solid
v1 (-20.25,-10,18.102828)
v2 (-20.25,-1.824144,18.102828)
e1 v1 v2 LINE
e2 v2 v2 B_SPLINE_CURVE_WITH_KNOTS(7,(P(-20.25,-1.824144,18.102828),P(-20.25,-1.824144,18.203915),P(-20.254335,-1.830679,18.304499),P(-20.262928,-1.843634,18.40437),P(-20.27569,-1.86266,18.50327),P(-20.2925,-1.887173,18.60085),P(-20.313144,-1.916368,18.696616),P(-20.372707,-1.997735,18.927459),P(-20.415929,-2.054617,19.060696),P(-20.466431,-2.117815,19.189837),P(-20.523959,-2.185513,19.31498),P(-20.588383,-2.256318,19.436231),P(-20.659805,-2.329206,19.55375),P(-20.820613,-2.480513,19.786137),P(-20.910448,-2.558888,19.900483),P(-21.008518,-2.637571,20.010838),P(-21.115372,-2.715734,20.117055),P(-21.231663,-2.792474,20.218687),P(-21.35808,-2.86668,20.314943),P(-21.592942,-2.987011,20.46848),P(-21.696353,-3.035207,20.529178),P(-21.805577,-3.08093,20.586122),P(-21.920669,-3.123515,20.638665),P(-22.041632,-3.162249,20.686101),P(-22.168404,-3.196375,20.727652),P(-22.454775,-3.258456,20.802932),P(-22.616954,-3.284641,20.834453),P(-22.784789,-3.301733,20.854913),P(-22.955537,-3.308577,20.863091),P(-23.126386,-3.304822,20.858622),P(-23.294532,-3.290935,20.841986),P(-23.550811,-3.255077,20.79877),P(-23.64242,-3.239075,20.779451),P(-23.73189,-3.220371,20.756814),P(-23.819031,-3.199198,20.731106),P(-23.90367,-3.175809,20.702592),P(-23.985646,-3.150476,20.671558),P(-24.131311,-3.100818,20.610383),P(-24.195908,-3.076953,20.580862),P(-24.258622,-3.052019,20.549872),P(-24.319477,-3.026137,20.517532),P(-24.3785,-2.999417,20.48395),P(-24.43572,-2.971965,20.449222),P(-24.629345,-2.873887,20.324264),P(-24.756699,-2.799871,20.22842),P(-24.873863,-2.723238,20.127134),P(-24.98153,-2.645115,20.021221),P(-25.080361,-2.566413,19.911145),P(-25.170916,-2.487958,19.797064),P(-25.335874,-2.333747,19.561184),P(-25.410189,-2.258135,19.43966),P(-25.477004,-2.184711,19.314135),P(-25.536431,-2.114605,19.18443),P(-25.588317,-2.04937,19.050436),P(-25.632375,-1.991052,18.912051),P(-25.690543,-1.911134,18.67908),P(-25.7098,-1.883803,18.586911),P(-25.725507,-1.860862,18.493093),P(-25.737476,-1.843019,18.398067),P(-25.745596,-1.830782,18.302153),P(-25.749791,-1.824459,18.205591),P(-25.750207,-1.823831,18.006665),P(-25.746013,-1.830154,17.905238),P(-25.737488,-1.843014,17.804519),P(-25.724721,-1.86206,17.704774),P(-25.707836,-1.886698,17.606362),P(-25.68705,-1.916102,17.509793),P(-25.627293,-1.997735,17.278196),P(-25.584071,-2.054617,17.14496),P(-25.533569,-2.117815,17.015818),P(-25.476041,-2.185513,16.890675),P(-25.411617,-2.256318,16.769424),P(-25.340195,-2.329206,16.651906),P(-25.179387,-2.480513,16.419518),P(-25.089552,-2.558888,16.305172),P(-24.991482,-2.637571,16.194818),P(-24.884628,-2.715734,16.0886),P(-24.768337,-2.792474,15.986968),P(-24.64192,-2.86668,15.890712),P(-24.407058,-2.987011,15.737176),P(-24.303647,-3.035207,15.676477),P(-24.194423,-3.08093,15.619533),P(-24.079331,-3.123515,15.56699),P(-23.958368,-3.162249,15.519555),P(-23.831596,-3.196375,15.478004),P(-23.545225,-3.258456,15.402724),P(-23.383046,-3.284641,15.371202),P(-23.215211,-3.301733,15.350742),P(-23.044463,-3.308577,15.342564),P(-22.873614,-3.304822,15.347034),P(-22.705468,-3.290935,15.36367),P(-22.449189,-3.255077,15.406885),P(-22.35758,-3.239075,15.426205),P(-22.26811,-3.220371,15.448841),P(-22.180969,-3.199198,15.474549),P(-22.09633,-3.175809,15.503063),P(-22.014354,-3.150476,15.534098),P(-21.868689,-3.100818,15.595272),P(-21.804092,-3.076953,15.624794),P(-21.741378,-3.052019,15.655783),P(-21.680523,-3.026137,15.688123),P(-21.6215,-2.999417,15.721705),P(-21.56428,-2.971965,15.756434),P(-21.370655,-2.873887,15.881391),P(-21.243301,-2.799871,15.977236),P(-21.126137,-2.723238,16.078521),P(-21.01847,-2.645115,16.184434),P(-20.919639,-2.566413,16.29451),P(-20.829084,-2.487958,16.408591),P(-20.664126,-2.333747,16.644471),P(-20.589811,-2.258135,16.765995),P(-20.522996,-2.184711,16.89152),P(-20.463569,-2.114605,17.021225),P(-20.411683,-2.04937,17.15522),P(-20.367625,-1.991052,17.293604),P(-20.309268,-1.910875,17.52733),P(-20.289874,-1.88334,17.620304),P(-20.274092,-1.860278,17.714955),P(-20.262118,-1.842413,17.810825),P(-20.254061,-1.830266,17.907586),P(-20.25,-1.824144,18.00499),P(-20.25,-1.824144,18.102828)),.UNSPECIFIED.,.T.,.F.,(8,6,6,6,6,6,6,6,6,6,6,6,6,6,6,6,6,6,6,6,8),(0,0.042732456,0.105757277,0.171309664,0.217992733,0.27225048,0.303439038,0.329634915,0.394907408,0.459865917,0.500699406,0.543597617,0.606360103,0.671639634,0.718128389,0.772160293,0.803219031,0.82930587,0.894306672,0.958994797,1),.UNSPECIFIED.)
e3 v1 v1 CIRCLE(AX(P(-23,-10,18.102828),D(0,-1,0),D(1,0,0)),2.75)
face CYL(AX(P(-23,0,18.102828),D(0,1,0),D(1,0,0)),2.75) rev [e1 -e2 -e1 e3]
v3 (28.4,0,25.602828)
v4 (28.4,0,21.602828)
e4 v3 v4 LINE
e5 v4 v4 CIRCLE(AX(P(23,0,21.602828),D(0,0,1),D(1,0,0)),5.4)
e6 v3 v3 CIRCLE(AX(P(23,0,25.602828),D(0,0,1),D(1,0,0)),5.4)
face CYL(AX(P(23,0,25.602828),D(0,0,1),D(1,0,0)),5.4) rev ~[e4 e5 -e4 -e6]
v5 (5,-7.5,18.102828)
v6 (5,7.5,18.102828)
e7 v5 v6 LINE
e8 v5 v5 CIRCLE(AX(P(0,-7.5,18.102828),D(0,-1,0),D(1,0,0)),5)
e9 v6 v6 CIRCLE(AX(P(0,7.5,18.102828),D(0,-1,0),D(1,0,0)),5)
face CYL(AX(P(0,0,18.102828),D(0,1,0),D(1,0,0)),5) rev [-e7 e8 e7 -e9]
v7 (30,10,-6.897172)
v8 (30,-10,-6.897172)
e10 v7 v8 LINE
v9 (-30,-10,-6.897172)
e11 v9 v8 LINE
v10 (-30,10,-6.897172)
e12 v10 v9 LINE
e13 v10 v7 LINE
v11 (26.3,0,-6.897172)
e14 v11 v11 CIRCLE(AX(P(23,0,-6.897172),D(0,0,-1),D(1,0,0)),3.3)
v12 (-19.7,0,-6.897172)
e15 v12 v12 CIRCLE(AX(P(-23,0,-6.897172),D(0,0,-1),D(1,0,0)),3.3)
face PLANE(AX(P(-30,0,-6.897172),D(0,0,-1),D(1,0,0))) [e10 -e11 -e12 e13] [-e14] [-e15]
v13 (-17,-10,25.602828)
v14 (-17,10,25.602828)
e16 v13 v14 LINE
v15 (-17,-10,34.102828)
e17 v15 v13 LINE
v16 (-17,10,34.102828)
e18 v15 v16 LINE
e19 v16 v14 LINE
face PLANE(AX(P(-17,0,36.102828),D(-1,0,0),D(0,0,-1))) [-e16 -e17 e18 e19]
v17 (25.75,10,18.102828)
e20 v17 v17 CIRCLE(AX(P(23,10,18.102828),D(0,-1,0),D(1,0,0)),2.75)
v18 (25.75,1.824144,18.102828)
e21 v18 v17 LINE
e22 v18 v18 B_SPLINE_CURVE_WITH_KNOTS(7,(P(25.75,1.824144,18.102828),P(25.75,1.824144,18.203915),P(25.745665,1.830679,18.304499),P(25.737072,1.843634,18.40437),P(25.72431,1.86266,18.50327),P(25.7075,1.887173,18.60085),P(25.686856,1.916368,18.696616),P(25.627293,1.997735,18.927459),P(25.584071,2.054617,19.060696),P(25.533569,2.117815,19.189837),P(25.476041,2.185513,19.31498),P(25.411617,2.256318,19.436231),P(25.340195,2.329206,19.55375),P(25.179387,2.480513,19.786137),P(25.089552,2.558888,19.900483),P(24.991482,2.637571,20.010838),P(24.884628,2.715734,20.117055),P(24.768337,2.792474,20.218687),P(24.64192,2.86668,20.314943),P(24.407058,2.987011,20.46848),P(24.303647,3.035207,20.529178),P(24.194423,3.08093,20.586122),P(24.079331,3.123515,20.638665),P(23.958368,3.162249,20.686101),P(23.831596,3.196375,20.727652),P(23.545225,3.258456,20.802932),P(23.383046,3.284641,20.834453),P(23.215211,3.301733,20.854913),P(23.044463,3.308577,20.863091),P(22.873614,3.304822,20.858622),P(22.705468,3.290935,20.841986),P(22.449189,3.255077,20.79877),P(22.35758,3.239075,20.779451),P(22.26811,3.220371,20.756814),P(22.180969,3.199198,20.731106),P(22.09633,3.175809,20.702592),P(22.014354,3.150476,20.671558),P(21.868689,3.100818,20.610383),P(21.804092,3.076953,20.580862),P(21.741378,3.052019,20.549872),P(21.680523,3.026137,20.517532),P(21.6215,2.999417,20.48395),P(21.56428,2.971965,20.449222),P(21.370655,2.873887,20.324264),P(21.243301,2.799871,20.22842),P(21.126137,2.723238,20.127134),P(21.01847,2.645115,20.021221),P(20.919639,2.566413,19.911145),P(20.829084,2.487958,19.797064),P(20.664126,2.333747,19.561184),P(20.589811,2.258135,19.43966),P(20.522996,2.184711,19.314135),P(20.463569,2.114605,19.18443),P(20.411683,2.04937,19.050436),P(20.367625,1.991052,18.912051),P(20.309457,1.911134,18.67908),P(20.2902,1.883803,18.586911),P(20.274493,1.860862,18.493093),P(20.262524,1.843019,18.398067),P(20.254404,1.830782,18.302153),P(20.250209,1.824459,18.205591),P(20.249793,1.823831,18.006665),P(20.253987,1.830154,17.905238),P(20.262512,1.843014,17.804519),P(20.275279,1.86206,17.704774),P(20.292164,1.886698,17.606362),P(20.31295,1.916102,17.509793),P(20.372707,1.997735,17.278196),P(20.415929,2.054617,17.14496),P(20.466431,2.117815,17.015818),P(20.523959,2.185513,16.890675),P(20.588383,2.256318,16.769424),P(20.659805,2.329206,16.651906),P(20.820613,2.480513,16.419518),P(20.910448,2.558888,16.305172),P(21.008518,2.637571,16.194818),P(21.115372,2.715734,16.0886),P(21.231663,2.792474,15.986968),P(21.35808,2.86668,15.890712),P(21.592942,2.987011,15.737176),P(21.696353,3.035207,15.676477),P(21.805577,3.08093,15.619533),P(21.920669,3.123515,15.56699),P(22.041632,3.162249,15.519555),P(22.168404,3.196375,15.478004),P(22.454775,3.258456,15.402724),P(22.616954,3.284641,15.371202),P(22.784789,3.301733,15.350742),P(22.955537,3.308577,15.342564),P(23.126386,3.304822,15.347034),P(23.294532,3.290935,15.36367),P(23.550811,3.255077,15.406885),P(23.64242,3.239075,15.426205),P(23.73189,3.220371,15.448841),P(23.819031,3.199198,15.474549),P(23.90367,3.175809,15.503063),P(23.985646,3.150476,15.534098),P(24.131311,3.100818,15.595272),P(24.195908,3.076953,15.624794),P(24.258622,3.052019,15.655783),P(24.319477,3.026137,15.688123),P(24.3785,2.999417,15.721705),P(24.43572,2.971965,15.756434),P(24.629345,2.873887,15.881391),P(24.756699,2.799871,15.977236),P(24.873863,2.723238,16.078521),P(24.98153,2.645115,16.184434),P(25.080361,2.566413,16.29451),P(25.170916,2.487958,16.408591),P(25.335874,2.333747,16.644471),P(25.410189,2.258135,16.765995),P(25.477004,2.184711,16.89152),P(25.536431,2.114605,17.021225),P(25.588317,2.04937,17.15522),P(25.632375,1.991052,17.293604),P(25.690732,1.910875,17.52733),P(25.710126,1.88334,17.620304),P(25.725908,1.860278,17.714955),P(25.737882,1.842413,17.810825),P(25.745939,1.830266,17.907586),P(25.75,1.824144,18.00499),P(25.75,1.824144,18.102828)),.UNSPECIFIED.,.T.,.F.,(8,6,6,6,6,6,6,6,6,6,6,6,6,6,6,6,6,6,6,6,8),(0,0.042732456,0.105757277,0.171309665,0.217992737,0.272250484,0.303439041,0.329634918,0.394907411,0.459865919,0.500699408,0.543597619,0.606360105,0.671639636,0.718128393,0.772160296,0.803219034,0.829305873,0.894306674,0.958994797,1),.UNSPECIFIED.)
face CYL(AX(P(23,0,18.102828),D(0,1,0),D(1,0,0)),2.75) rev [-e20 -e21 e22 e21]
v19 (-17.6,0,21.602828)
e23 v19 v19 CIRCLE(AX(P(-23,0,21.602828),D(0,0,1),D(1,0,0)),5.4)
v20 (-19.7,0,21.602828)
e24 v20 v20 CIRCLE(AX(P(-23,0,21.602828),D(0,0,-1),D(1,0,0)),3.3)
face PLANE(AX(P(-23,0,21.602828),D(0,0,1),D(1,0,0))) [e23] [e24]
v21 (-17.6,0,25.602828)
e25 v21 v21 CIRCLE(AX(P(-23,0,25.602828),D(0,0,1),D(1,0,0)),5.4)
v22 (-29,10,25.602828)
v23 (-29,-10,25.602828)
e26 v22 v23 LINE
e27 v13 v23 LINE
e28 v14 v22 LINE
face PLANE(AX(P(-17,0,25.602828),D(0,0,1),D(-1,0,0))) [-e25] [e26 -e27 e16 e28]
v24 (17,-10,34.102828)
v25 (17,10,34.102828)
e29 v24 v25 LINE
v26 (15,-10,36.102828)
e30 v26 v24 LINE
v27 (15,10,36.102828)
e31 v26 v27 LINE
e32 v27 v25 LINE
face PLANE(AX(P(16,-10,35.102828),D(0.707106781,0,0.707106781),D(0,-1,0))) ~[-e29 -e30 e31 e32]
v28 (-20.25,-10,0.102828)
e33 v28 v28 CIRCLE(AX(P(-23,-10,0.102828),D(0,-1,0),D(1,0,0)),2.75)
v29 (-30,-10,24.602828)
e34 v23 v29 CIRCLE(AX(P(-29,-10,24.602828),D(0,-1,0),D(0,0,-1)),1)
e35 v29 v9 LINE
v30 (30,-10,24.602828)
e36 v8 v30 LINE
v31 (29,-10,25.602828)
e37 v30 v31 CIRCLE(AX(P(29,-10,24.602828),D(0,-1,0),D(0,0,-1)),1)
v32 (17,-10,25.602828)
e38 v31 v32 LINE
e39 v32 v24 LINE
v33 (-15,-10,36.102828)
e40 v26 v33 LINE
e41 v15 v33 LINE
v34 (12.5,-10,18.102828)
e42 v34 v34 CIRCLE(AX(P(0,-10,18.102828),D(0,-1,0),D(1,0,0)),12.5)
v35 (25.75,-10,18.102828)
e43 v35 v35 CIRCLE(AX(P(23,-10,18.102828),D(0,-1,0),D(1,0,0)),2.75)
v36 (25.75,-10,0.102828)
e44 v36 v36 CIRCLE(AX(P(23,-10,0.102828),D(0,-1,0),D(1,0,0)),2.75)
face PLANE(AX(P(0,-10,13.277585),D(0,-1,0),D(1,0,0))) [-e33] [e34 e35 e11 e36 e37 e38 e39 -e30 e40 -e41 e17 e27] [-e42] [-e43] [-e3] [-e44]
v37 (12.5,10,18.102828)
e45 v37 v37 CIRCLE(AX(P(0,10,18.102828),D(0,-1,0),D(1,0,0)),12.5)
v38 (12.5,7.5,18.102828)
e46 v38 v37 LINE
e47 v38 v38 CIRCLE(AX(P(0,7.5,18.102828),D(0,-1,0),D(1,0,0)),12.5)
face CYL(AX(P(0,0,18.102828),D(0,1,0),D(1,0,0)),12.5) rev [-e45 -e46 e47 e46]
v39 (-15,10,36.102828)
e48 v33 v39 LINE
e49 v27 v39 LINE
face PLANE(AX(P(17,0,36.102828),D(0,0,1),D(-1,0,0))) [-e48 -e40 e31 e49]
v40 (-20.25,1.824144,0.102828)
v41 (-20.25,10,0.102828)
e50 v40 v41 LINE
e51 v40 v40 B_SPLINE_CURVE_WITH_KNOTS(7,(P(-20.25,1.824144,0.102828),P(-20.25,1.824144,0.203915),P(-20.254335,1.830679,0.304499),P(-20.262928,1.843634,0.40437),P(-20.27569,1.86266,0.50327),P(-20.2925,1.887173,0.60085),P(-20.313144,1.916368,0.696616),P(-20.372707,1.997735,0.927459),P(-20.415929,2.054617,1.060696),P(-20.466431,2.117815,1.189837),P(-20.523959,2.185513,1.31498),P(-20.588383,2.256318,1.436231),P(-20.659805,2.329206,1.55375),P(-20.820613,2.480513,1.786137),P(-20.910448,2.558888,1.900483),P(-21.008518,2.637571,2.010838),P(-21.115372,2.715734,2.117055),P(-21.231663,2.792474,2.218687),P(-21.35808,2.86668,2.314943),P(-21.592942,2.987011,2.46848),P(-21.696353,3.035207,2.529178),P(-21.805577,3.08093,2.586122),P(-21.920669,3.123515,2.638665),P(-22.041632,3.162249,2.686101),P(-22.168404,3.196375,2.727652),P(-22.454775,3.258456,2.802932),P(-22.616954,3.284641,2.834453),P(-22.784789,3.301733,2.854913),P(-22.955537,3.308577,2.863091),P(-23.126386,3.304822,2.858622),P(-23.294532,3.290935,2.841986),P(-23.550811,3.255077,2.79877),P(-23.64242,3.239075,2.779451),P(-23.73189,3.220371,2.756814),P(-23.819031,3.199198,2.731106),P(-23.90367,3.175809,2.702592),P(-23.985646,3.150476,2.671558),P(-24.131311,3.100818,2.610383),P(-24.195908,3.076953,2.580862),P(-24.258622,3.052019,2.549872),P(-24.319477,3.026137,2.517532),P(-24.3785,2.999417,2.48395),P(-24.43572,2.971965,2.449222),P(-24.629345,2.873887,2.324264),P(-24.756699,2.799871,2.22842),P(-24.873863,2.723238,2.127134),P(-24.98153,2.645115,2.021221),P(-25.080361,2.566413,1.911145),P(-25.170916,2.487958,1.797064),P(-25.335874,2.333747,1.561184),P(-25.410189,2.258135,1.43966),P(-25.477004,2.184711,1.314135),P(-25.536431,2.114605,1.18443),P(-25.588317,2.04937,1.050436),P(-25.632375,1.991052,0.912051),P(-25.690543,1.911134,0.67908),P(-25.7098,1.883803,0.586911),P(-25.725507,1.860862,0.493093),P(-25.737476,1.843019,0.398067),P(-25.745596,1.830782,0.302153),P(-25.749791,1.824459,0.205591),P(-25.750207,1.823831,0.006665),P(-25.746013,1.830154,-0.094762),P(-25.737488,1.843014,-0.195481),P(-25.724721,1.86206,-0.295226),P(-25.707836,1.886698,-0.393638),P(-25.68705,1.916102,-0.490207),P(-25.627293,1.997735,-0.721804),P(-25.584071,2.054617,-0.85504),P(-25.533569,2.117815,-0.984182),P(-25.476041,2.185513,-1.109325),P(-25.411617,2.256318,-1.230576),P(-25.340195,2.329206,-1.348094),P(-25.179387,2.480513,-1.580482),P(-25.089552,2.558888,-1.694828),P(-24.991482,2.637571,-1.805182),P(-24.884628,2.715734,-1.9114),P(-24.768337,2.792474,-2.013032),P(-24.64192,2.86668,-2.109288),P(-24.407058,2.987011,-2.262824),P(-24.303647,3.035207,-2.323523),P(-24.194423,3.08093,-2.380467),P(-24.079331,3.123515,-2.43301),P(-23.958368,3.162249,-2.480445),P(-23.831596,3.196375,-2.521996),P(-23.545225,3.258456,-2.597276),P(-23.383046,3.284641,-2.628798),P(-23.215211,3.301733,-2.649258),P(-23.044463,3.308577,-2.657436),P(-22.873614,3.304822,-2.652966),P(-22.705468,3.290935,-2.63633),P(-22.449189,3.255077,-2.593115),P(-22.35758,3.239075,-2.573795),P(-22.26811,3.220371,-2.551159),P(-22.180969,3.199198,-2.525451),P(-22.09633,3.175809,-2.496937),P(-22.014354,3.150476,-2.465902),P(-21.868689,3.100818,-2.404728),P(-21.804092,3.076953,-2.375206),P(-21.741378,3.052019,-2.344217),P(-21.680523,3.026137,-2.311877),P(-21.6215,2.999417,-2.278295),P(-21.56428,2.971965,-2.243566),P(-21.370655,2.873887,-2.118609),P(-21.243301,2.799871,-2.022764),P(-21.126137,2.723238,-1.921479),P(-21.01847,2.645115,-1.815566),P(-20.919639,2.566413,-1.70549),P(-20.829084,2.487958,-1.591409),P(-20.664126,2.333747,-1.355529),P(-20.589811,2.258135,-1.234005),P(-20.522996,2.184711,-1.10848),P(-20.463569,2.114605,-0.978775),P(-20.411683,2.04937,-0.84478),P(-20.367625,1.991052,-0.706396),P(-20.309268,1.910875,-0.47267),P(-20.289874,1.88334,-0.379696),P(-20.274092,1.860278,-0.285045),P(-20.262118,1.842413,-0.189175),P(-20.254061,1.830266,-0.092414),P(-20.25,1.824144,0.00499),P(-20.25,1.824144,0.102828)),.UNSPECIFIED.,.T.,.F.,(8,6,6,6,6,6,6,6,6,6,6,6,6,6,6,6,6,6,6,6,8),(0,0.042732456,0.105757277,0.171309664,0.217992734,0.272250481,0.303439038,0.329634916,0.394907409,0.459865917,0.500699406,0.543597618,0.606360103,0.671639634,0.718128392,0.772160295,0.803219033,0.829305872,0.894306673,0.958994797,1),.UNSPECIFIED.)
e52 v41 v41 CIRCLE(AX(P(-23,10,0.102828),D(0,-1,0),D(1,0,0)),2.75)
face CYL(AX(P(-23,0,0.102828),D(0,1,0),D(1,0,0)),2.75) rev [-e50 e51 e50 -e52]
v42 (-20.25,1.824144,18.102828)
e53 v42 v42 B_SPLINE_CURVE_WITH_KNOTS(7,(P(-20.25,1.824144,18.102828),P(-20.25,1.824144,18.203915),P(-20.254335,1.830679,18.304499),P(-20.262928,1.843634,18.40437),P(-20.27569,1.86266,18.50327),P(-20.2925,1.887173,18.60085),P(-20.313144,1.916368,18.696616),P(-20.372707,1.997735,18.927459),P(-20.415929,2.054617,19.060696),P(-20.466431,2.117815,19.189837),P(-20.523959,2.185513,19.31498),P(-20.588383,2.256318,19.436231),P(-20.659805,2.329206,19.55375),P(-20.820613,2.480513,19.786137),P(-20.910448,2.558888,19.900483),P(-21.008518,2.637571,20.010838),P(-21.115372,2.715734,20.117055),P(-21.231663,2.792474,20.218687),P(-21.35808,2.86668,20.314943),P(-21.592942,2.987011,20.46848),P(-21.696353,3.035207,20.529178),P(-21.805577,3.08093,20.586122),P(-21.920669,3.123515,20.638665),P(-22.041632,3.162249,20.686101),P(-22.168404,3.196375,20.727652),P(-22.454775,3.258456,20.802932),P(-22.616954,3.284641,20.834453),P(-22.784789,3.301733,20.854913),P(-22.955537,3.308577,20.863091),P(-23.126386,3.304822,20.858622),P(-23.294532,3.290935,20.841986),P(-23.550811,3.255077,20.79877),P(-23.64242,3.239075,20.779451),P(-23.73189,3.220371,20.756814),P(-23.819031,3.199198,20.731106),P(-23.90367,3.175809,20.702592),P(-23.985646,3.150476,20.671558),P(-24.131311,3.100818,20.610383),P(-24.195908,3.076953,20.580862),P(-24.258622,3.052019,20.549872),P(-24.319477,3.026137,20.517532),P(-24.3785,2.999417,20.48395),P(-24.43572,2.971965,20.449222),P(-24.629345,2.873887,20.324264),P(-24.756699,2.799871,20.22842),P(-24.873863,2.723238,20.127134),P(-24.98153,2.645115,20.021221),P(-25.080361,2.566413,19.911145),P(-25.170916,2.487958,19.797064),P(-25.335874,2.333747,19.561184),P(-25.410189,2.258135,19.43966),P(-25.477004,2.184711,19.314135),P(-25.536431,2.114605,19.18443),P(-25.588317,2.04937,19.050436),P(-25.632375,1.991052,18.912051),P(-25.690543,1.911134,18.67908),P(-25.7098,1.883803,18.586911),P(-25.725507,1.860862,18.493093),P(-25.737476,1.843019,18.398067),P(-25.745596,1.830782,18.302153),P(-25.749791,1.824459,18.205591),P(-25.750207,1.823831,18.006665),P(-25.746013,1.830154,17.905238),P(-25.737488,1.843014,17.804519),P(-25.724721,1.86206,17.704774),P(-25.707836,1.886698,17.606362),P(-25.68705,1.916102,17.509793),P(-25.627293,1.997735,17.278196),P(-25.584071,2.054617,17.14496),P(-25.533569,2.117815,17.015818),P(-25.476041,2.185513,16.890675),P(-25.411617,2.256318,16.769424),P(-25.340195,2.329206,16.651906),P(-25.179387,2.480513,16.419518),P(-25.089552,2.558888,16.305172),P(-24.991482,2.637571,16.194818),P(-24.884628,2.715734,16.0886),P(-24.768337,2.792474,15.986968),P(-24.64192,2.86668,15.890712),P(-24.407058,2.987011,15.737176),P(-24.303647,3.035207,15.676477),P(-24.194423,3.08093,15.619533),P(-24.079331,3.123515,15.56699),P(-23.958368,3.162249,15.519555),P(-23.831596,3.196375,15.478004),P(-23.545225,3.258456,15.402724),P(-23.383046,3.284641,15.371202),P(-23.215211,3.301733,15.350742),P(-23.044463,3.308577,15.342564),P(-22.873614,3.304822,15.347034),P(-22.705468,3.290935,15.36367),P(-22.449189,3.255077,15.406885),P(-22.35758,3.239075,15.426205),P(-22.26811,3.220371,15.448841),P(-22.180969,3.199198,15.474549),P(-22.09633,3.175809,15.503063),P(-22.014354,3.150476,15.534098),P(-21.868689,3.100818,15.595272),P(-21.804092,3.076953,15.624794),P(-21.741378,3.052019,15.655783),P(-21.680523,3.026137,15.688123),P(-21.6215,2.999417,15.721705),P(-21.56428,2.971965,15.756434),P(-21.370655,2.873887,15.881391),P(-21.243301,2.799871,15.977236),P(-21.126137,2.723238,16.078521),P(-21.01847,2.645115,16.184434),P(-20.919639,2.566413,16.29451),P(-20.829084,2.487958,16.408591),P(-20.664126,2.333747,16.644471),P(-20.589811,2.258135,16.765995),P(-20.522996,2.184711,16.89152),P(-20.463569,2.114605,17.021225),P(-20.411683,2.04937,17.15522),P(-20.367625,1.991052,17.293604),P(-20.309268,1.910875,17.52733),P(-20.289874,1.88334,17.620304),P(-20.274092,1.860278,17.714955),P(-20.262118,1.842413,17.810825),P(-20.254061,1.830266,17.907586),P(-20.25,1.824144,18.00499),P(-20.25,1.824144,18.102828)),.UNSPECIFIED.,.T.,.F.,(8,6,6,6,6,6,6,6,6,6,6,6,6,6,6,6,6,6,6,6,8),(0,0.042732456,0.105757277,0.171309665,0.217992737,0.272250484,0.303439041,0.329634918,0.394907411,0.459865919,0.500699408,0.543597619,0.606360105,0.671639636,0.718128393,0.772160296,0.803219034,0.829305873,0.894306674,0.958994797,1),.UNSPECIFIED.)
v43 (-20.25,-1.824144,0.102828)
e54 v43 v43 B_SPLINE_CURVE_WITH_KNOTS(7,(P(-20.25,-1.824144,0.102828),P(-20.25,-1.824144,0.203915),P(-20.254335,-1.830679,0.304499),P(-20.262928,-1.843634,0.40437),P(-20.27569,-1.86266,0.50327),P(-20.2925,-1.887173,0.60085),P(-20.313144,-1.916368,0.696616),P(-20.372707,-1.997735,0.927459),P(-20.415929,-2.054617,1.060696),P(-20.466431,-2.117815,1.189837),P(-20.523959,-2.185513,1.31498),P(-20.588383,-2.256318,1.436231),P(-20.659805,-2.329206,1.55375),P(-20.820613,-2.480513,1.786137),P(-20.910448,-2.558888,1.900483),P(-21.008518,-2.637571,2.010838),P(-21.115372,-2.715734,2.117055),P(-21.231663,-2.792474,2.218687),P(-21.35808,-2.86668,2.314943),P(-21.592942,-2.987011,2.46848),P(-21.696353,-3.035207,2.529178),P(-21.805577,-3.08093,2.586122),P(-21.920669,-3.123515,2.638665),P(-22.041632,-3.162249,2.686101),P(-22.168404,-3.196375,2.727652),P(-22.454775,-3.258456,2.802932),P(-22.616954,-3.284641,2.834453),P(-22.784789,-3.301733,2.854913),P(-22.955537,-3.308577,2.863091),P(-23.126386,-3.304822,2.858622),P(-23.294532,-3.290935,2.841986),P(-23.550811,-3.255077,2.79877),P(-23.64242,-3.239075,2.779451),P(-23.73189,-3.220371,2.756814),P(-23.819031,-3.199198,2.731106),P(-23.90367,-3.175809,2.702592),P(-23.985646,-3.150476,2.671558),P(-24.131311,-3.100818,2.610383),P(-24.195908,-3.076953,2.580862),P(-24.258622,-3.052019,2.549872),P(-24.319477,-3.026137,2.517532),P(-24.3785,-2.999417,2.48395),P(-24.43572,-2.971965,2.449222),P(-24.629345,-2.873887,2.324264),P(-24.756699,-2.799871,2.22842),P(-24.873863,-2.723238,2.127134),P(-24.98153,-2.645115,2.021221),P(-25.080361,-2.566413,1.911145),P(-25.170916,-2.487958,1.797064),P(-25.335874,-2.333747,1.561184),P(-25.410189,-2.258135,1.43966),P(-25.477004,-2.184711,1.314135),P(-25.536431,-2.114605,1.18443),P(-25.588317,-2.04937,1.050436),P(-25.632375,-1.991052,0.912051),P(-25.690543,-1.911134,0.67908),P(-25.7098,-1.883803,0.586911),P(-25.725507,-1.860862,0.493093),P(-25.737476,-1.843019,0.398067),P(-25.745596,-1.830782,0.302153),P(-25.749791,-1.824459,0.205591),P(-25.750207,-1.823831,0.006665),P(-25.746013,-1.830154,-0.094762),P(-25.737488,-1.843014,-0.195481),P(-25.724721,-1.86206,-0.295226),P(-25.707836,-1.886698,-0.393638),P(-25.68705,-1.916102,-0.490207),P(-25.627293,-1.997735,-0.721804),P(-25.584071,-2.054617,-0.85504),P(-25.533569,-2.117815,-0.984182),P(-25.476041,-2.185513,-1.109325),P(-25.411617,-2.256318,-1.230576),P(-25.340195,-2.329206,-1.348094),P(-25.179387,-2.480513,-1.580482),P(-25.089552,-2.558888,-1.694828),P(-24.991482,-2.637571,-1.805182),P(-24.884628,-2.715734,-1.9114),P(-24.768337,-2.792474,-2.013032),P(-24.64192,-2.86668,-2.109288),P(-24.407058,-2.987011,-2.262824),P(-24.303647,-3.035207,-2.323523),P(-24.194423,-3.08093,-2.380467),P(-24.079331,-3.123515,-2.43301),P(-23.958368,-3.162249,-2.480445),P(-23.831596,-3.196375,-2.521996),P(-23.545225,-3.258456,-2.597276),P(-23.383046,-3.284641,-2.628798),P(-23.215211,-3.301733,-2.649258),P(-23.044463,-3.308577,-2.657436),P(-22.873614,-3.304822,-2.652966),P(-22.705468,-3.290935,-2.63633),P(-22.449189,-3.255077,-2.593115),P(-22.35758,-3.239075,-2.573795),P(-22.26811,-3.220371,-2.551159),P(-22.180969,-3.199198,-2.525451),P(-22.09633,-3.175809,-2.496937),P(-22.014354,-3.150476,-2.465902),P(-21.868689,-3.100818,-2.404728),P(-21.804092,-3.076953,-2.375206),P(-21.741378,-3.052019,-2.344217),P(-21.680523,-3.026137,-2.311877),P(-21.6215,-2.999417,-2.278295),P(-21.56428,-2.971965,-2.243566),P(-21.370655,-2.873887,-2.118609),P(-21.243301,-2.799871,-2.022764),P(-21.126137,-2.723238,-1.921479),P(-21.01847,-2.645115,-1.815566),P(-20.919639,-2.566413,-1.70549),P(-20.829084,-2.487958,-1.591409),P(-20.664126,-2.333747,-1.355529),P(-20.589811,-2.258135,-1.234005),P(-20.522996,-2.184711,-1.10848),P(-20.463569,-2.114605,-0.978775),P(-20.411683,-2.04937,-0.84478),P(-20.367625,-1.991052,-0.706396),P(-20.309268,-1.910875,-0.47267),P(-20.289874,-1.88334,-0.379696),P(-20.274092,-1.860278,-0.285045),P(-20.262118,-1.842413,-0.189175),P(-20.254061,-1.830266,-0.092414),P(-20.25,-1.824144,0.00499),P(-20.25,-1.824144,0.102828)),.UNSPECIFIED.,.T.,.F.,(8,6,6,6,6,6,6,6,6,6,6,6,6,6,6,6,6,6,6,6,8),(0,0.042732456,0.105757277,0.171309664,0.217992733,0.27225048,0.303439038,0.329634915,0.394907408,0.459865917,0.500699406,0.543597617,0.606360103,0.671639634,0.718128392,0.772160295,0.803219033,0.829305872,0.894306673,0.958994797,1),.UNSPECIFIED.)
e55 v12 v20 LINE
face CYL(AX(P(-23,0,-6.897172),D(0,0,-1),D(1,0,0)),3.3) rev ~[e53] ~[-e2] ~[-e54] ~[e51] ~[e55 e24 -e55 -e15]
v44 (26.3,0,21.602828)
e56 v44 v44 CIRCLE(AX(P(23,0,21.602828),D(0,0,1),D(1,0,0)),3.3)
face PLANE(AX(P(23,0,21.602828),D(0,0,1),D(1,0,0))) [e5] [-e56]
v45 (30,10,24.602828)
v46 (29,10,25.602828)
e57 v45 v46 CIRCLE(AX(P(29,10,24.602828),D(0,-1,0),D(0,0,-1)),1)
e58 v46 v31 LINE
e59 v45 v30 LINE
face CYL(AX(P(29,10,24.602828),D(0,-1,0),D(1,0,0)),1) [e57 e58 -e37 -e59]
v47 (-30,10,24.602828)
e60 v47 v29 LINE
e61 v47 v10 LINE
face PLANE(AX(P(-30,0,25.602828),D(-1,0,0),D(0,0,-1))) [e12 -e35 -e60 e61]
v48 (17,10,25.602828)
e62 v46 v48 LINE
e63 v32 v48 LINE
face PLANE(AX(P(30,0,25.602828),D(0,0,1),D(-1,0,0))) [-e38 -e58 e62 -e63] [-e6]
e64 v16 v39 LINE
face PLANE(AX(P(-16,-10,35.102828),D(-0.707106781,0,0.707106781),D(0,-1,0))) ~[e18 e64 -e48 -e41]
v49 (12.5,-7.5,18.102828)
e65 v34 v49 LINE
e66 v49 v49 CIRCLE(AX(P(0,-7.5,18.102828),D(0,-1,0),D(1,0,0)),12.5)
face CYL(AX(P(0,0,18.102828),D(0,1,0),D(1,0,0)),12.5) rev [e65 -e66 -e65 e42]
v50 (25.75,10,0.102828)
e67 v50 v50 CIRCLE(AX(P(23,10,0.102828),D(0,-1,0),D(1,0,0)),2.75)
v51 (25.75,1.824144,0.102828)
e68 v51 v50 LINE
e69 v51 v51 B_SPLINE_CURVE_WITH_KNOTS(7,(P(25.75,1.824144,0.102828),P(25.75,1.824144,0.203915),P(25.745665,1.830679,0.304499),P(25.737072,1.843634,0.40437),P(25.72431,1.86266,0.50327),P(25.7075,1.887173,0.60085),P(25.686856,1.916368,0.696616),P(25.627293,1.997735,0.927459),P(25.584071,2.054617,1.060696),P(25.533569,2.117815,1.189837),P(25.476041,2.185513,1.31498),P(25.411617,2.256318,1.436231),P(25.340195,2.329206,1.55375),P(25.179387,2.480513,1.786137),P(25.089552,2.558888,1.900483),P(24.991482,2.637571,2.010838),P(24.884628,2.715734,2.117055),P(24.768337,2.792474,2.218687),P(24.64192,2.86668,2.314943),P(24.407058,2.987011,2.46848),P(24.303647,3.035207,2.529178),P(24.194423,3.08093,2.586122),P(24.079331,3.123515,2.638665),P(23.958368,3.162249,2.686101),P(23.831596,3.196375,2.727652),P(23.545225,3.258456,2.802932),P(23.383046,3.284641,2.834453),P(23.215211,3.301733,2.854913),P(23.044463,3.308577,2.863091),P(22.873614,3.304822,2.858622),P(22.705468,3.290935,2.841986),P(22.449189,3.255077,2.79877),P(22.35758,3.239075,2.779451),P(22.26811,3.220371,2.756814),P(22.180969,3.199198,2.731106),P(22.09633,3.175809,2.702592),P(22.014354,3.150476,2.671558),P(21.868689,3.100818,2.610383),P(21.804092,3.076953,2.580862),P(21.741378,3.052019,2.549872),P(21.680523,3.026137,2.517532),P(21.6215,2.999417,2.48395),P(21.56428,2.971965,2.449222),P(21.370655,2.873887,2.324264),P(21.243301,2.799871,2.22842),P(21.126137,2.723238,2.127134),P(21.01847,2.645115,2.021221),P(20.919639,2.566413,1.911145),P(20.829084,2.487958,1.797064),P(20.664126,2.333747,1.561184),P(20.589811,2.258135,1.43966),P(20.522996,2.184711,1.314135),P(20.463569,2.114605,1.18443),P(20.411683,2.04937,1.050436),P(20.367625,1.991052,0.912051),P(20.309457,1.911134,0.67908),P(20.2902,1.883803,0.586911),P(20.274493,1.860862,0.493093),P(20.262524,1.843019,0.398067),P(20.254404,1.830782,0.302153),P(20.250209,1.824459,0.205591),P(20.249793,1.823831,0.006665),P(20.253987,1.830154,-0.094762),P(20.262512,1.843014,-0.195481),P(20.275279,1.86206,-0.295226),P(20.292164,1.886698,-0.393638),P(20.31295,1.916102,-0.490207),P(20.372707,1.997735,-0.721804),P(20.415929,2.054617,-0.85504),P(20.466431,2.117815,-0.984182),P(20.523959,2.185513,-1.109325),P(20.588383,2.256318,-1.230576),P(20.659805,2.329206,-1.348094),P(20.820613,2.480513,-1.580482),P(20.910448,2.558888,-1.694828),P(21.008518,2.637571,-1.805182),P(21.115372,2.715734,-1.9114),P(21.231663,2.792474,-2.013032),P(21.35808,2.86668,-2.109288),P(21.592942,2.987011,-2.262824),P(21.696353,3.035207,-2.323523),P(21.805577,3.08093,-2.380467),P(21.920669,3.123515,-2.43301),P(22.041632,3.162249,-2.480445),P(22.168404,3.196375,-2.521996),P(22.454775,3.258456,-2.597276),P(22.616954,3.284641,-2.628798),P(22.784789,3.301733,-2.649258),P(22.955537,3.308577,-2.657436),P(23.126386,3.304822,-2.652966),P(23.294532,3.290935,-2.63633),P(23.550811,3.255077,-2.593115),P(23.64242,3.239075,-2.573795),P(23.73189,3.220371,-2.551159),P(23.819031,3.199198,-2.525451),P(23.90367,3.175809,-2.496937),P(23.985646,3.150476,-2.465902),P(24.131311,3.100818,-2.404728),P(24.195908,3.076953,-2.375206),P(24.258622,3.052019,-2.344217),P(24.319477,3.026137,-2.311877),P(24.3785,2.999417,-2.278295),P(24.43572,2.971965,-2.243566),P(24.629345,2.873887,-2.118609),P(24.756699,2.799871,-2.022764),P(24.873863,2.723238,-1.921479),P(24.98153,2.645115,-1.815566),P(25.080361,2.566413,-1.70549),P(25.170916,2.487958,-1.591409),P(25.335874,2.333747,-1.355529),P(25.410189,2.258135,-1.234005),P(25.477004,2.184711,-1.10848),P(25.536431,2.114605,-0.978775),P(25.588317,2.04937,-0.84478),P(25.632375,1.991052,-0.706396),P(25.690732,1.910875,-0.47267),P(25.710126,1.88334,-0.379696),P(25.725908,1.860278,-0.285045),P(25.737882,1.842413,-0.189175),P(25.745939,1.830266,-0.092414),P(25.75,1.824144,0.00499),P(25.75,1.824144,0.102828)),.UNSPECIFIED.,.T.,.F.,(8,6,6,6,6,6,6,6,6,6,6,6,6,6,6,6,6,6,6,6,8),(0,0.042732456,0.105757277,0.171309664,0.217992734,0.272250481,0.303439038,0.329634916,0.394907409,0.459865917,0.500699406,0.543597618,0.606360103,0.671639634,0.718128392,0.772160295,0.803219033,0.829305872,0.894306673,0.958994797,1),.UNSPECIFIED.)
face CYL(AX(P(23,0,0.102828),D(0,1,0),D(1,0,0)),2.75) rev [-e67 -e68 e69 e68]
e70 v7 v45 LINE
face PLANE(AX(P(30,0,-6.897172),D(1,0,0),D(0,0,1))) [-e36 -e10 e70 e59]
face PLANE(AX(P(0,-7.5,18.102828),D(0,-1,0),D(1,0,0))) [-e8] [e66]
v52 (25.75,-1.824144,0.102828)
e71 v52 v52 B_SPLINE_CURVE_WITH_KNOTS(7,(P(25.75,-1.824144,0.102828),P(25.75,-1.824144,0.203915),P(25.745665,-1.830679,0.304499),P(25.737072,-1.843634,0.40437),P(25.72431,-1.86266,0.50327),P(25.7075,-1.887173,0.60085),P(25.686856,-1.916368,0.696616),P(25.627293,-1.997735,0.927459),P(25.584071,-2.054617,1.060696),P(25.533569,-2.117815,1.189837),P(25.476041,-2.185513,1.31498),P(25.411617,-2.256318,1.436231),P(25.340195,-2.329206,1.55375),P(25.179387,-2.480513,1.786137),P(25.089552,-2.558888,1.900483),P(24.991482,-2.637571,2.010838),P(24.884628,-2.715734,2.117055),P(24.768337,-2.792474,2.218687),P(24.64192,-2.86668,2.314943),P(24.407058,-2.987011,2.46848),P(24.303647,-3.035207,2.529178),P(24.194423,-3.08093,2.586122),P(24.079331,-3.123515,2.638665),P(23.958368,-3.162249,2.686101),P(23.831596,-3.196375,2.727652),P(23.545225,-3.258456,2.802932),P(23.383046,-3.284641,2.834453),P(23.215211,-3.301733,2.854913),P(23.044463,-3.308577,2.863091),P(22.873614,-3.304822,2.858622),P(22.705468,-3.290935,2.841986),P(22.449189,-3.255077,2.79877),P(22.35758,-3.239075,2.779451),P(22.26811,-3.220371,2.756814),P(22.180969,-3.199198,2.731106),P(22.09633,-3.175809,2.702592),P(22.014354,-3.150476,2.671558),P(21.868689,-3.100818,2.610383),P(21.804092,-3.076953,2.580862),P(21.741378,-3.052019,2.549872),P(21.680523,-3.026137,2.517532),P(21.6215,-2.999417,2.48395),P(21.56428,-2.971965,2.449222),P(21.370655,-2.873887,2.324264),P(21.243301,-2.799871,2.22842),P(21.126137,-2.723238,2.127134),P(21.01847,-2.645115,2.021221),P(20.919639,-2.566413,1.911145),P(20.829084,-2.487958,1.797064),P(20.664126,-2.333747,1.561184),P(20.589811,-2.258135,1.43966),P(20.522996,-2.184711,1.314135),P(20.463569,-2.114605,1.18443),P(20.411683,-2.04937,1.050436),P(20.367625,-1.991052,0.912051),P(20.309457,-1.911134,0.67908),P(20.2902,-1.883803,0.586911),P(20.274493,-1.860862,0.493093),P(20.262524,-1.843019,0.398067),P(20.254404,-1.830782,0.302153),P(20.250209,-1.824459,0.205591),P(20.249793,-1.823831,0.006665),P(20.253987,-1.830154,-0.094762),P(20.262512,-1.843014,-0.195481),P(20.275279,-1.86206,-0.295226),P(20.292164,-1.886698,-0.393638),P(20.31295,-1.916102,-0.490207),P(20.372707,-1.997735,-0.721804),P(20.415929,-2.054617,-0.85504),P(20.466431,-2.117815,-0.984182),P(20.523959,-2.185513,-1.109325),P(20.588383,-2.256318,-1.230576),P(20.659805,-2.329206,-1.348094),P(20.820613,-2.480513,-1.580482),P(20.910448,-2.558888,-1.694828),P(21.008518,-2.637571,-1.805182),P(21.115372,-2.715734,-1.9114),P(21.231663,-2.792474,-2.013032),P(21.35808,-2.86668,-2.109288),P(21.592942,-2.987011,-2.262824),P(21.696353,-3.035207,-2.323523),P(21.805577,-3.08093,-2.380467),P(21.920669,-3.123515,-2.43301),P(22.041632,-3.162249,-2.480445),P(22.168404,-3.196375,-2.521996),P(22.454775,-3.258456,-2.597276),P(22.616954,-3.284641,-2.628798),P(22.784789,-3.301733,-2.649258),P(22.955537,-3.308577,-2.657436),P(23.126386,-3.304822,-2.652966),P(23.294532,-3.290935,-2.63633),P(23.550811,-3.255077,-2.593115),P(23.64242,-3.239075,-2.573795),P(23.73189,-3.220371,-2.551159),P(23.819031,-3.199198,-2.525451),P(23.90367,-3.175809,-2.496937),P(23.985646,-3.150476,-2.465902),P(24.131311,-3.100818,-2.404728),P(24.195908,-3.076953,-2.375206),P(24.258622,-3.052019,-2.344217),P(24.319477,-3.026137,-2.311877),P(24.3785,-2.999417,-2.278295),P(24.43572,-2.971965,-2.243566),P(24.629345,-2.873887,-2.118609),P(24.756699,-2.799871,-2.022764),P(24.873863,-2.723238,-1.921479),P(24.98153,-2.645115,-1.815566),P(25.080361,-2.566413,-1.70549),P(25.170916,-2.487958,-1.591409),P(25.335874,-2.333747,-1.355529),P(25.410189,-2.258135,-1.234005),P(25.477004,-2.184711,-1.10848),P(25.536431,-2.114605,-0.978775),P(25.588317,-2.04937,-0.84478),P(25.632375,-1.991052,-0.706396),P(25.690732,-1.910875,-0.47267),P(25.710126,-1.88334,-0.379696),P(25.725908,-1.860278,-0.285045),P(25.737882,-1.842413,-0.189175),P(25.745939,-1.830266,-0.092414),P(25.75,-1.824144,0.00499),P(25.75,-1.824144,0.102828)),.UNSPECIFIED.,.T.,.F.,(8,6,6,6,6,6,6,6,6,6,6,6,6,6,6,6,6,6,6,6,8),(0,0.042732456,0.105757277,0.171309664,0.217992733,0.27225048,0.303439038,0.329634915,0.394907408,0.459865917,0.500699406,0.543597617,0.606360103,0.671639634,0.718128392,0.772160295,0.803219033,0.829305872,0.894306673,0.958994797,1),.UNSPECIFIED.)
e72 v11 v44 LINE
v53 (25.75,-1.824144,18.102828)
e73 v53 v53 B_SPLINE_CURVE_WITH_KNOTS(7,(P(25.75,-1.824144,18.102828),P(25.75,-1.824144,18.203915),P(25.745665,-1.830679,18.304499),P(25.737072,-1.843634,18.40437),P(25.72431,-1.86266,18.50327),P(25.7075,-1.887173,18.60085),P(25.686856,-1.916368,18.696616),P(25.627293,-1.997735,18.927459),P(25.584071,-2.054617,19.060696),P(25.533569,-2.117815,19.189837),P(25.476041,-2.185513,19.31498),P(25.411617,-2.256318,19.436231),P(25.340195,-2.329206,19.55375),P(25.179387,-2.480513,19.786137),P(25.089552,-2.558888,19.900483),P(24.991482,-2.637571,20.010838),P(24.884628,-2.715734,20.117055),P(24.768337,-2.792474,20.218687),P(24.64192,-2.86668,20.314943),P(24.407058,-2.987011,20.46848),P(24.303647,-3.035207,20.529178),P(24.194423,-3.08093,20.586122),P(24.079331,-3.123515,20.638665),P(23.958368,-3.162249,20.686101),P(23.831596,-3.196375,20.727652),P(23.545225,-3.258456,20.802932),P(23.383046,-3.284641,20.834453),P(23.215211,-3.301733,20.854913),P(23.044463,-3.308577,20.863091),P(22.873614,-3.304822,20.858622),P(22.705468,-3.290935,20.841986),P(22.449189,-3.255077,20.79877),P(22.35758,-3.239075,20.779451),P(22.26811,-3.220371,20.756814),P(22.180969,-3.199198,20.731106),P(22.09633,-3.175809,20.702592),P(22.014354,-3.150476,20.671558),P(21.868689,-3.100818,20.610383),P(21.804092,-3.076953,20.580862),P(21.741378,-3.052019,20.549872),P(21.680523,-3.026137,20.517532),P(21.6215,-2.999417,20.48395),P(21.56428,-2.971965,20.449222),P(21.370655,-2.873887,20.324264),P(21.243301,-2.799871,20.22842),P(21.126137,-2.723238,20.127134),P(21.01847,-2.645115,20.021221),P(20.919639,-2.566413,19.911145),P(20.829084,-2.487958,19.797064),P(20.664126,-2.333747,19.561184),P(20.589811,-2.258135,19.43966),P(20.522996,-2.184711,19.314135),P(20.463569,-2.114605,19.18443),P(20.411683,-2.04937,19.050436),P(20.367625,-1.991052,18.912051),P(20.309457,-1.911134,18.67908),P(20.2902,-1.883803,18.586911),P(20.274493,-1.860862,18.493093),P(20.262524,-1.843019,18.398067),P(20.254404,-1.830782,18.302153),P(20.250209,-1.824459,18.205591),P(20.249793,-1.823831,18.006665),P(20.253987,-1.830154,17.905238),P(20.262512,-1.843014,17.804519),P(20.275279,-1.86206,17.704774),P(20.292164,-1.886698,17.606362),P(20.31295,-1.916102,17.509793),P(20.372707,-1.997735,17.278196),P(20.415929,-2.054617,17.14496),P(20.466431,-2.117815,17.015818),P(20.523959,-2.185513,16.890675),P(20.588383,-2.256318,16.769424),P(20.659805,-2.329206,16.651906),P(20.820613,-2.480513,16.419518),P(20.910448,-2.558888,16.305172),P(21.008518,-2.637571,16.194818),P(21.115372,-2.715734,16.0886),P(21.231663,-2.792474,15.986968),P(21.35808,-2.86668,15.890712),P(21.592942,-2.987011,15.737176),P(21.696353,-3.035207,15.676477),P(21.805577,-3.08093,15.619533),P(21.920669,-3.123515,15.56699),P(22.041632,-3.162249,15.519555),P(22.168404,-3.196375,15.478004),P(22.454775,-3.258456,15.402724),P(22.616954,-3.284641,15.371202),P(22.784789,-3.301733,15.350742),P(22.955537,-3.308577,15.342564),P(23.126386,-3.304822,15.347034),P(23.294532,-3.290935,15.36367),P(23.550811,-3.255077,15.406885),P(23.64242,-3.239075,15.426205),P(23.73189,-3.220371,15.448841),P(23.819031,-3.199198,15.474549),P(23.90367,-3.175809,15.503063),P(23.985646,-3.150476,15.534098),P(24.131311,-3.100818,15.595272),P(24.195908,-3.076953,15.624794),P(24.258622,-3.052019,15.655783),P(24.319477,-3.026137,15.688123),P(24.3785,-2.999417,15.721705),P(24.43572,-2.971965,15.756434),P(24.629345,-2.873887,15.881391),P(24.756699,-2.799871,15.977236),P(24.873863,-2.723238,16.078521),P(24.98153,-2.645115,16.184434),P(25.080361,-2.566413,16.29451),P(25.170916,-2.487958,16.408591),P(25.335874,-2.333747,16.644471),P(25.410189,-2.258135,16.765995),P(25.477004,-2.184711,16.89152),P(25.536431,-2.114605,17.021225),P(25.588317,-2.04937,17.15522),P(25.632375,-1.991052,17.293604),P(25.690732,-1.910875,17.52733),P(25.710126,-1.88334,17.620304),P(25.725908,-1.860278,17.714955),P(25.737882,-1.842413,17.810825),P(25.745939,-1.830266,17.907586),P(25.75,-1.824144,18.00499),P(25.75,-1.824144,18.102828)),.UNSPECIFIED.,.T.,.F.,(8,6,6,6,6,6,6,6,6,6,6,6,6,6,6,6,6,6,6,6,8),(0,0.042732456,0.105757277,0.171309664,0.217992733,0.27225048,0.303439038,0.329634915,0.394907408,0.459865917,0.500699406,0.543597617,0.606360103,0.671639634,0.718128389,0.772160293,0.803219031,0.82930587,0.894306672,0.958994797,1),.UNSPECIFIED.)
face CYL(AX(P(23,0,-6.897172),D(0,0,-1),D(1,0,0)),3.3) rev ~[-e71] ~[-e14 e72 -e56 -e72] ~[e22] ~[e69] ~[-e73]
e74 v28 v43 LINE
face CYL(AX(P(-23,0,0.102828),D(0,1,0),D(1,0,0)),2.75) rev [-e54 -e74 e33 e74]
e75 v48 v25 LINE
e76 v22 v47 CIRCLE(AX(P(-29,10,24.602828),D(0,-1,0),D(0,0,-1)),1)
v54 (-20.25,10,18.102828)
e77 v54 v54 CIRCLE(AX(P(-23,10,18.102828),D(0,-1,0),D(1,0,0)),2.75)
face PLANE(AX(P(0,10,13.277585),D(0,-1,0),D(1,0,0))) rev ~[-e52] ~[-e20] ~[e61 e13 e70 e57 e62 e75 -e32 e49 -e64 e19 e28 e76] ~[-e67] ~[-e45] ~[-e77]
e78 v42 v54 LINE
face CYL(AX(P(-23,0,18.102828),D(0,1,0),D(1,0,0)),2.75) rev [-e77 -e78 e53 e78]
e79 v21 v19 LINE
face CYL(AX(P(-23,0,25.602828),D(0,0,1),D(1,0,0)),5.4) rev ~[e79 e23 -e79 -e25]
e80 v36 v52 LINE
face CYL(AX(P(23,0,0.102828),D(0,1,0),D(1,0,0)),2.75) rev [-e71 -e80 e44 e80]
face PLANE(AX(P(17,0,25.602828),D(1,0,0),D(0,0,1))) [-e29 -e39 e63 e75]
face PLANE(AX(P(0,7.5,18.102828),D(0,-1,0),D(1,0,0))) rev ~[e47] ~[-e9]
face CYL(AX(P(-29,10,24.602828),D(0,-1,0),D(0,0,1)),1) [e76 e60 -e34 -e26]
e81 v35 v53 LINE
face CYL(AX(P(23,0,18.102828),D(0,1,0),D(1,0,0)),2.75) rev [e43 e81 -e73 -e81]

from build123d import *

# Parameters (mm, degrees)
F0_R     = 2.75
F0_R_2   = 12.5
F1_DEPTH = 10
F0_R_3   = 5
F2_DEPTH = 7.5
F3_SIZE  = 2
F4_R     = 1
F5_R     = 3.3
F6_DEPTH = 32.5
F7_R     = 5.4
F7_R_2   = 3.3
F8_DEPTH = 4


with BuildPart() as f1:
    # F0 (on Front) → F1 (new body, symmetric)
    with BuildSketch(Plane.XZ):
        Polygon((-17, 25.6028276384), (-30, 25.6028276384), (-30, -6.8971723616), (30, -6.8971723616), (30, 25.6028276384), (17, 25.6028276384), (17, 36.1028276384), (-17, 36.1028276384), align=None)
        with Locations((-23, 0.1028276384)):
            Circle(F0_R, mode=Mode.SUBTRACT)
        with Locations((23, 0.1028276384)):
            Circle(F0_R, mode=Mode.SUBTRACT)
        with Locations((-23, 18.1028276384)):
            Circle(F0_R, mode=Mode.SUBTRACT)
        with Locations((0, 18.1028276384)):
            Circle(F0_R_2, mode=Mode.SUBTRACT)
        with Locations((23, 18.1028276384)):
            Circle(F0_R, mode=Mode.SUBTRACT)
    extrude(amount=F1_DEPTH, both=True)

    # F0 (on Front) → F2 (join, symmetric)
    with BuildSketch(Plane.XZ):
        with Locations((0, 18.1028276384)):
            Circle(F0_R_2)
        with Locations((0, 18.1028276384)):
            Circle(F0_R_3, mode=Mode.SUBTRACT)
    extrude(amount=F2_DEPTH, both=True)

    # F3
    f3_edges = [f1.edges().sort_by_distance(p)[0] for p in [
        (-17, 0, 36.102828),
        (17, 0, 36.102828),
    ]]
    chamfer(f3_edges, length=F3_SIZE)

    # F4
    f4_edges = [f1.edges().sort_by_distance(p)[0] for p in [
        (-30, 0, 25.602828),
        (30, 0, 25.602828),
    ]]
    fillet(f4_edges, radius=F4_R)

    # F5 (on face) → F6 (cut)
    with BuildSketch(Plane(origin=(0, 0, -6.8971723616), x_dir=(1, 0, 0), z_dir=(0, 0, -1))):
        with Locations((23, 0)):
            Circle(F5_R)
        with Locations((-23, 0)):
            Circle(F5_R)
    extrude(amount=-F6_DEPTH, mode=Mode.SUBTRACT)

    # F7 (on face) → F8 (cut)
    with BuildSketch(Plane.XY.offset(25.6028276384)):
        with Locations((23, 0)):
            Circle(F7_R)
        with Locations((23, 0)):
            Circle(F7_R_2, mode=Mode.SUBTRACT)
        with Locations((-23, 0)):
            Circle(F7_R)
    extrude(amount=-F8_DEPTH, mode=Mode.SUBTRACT)


solid = f1.part
